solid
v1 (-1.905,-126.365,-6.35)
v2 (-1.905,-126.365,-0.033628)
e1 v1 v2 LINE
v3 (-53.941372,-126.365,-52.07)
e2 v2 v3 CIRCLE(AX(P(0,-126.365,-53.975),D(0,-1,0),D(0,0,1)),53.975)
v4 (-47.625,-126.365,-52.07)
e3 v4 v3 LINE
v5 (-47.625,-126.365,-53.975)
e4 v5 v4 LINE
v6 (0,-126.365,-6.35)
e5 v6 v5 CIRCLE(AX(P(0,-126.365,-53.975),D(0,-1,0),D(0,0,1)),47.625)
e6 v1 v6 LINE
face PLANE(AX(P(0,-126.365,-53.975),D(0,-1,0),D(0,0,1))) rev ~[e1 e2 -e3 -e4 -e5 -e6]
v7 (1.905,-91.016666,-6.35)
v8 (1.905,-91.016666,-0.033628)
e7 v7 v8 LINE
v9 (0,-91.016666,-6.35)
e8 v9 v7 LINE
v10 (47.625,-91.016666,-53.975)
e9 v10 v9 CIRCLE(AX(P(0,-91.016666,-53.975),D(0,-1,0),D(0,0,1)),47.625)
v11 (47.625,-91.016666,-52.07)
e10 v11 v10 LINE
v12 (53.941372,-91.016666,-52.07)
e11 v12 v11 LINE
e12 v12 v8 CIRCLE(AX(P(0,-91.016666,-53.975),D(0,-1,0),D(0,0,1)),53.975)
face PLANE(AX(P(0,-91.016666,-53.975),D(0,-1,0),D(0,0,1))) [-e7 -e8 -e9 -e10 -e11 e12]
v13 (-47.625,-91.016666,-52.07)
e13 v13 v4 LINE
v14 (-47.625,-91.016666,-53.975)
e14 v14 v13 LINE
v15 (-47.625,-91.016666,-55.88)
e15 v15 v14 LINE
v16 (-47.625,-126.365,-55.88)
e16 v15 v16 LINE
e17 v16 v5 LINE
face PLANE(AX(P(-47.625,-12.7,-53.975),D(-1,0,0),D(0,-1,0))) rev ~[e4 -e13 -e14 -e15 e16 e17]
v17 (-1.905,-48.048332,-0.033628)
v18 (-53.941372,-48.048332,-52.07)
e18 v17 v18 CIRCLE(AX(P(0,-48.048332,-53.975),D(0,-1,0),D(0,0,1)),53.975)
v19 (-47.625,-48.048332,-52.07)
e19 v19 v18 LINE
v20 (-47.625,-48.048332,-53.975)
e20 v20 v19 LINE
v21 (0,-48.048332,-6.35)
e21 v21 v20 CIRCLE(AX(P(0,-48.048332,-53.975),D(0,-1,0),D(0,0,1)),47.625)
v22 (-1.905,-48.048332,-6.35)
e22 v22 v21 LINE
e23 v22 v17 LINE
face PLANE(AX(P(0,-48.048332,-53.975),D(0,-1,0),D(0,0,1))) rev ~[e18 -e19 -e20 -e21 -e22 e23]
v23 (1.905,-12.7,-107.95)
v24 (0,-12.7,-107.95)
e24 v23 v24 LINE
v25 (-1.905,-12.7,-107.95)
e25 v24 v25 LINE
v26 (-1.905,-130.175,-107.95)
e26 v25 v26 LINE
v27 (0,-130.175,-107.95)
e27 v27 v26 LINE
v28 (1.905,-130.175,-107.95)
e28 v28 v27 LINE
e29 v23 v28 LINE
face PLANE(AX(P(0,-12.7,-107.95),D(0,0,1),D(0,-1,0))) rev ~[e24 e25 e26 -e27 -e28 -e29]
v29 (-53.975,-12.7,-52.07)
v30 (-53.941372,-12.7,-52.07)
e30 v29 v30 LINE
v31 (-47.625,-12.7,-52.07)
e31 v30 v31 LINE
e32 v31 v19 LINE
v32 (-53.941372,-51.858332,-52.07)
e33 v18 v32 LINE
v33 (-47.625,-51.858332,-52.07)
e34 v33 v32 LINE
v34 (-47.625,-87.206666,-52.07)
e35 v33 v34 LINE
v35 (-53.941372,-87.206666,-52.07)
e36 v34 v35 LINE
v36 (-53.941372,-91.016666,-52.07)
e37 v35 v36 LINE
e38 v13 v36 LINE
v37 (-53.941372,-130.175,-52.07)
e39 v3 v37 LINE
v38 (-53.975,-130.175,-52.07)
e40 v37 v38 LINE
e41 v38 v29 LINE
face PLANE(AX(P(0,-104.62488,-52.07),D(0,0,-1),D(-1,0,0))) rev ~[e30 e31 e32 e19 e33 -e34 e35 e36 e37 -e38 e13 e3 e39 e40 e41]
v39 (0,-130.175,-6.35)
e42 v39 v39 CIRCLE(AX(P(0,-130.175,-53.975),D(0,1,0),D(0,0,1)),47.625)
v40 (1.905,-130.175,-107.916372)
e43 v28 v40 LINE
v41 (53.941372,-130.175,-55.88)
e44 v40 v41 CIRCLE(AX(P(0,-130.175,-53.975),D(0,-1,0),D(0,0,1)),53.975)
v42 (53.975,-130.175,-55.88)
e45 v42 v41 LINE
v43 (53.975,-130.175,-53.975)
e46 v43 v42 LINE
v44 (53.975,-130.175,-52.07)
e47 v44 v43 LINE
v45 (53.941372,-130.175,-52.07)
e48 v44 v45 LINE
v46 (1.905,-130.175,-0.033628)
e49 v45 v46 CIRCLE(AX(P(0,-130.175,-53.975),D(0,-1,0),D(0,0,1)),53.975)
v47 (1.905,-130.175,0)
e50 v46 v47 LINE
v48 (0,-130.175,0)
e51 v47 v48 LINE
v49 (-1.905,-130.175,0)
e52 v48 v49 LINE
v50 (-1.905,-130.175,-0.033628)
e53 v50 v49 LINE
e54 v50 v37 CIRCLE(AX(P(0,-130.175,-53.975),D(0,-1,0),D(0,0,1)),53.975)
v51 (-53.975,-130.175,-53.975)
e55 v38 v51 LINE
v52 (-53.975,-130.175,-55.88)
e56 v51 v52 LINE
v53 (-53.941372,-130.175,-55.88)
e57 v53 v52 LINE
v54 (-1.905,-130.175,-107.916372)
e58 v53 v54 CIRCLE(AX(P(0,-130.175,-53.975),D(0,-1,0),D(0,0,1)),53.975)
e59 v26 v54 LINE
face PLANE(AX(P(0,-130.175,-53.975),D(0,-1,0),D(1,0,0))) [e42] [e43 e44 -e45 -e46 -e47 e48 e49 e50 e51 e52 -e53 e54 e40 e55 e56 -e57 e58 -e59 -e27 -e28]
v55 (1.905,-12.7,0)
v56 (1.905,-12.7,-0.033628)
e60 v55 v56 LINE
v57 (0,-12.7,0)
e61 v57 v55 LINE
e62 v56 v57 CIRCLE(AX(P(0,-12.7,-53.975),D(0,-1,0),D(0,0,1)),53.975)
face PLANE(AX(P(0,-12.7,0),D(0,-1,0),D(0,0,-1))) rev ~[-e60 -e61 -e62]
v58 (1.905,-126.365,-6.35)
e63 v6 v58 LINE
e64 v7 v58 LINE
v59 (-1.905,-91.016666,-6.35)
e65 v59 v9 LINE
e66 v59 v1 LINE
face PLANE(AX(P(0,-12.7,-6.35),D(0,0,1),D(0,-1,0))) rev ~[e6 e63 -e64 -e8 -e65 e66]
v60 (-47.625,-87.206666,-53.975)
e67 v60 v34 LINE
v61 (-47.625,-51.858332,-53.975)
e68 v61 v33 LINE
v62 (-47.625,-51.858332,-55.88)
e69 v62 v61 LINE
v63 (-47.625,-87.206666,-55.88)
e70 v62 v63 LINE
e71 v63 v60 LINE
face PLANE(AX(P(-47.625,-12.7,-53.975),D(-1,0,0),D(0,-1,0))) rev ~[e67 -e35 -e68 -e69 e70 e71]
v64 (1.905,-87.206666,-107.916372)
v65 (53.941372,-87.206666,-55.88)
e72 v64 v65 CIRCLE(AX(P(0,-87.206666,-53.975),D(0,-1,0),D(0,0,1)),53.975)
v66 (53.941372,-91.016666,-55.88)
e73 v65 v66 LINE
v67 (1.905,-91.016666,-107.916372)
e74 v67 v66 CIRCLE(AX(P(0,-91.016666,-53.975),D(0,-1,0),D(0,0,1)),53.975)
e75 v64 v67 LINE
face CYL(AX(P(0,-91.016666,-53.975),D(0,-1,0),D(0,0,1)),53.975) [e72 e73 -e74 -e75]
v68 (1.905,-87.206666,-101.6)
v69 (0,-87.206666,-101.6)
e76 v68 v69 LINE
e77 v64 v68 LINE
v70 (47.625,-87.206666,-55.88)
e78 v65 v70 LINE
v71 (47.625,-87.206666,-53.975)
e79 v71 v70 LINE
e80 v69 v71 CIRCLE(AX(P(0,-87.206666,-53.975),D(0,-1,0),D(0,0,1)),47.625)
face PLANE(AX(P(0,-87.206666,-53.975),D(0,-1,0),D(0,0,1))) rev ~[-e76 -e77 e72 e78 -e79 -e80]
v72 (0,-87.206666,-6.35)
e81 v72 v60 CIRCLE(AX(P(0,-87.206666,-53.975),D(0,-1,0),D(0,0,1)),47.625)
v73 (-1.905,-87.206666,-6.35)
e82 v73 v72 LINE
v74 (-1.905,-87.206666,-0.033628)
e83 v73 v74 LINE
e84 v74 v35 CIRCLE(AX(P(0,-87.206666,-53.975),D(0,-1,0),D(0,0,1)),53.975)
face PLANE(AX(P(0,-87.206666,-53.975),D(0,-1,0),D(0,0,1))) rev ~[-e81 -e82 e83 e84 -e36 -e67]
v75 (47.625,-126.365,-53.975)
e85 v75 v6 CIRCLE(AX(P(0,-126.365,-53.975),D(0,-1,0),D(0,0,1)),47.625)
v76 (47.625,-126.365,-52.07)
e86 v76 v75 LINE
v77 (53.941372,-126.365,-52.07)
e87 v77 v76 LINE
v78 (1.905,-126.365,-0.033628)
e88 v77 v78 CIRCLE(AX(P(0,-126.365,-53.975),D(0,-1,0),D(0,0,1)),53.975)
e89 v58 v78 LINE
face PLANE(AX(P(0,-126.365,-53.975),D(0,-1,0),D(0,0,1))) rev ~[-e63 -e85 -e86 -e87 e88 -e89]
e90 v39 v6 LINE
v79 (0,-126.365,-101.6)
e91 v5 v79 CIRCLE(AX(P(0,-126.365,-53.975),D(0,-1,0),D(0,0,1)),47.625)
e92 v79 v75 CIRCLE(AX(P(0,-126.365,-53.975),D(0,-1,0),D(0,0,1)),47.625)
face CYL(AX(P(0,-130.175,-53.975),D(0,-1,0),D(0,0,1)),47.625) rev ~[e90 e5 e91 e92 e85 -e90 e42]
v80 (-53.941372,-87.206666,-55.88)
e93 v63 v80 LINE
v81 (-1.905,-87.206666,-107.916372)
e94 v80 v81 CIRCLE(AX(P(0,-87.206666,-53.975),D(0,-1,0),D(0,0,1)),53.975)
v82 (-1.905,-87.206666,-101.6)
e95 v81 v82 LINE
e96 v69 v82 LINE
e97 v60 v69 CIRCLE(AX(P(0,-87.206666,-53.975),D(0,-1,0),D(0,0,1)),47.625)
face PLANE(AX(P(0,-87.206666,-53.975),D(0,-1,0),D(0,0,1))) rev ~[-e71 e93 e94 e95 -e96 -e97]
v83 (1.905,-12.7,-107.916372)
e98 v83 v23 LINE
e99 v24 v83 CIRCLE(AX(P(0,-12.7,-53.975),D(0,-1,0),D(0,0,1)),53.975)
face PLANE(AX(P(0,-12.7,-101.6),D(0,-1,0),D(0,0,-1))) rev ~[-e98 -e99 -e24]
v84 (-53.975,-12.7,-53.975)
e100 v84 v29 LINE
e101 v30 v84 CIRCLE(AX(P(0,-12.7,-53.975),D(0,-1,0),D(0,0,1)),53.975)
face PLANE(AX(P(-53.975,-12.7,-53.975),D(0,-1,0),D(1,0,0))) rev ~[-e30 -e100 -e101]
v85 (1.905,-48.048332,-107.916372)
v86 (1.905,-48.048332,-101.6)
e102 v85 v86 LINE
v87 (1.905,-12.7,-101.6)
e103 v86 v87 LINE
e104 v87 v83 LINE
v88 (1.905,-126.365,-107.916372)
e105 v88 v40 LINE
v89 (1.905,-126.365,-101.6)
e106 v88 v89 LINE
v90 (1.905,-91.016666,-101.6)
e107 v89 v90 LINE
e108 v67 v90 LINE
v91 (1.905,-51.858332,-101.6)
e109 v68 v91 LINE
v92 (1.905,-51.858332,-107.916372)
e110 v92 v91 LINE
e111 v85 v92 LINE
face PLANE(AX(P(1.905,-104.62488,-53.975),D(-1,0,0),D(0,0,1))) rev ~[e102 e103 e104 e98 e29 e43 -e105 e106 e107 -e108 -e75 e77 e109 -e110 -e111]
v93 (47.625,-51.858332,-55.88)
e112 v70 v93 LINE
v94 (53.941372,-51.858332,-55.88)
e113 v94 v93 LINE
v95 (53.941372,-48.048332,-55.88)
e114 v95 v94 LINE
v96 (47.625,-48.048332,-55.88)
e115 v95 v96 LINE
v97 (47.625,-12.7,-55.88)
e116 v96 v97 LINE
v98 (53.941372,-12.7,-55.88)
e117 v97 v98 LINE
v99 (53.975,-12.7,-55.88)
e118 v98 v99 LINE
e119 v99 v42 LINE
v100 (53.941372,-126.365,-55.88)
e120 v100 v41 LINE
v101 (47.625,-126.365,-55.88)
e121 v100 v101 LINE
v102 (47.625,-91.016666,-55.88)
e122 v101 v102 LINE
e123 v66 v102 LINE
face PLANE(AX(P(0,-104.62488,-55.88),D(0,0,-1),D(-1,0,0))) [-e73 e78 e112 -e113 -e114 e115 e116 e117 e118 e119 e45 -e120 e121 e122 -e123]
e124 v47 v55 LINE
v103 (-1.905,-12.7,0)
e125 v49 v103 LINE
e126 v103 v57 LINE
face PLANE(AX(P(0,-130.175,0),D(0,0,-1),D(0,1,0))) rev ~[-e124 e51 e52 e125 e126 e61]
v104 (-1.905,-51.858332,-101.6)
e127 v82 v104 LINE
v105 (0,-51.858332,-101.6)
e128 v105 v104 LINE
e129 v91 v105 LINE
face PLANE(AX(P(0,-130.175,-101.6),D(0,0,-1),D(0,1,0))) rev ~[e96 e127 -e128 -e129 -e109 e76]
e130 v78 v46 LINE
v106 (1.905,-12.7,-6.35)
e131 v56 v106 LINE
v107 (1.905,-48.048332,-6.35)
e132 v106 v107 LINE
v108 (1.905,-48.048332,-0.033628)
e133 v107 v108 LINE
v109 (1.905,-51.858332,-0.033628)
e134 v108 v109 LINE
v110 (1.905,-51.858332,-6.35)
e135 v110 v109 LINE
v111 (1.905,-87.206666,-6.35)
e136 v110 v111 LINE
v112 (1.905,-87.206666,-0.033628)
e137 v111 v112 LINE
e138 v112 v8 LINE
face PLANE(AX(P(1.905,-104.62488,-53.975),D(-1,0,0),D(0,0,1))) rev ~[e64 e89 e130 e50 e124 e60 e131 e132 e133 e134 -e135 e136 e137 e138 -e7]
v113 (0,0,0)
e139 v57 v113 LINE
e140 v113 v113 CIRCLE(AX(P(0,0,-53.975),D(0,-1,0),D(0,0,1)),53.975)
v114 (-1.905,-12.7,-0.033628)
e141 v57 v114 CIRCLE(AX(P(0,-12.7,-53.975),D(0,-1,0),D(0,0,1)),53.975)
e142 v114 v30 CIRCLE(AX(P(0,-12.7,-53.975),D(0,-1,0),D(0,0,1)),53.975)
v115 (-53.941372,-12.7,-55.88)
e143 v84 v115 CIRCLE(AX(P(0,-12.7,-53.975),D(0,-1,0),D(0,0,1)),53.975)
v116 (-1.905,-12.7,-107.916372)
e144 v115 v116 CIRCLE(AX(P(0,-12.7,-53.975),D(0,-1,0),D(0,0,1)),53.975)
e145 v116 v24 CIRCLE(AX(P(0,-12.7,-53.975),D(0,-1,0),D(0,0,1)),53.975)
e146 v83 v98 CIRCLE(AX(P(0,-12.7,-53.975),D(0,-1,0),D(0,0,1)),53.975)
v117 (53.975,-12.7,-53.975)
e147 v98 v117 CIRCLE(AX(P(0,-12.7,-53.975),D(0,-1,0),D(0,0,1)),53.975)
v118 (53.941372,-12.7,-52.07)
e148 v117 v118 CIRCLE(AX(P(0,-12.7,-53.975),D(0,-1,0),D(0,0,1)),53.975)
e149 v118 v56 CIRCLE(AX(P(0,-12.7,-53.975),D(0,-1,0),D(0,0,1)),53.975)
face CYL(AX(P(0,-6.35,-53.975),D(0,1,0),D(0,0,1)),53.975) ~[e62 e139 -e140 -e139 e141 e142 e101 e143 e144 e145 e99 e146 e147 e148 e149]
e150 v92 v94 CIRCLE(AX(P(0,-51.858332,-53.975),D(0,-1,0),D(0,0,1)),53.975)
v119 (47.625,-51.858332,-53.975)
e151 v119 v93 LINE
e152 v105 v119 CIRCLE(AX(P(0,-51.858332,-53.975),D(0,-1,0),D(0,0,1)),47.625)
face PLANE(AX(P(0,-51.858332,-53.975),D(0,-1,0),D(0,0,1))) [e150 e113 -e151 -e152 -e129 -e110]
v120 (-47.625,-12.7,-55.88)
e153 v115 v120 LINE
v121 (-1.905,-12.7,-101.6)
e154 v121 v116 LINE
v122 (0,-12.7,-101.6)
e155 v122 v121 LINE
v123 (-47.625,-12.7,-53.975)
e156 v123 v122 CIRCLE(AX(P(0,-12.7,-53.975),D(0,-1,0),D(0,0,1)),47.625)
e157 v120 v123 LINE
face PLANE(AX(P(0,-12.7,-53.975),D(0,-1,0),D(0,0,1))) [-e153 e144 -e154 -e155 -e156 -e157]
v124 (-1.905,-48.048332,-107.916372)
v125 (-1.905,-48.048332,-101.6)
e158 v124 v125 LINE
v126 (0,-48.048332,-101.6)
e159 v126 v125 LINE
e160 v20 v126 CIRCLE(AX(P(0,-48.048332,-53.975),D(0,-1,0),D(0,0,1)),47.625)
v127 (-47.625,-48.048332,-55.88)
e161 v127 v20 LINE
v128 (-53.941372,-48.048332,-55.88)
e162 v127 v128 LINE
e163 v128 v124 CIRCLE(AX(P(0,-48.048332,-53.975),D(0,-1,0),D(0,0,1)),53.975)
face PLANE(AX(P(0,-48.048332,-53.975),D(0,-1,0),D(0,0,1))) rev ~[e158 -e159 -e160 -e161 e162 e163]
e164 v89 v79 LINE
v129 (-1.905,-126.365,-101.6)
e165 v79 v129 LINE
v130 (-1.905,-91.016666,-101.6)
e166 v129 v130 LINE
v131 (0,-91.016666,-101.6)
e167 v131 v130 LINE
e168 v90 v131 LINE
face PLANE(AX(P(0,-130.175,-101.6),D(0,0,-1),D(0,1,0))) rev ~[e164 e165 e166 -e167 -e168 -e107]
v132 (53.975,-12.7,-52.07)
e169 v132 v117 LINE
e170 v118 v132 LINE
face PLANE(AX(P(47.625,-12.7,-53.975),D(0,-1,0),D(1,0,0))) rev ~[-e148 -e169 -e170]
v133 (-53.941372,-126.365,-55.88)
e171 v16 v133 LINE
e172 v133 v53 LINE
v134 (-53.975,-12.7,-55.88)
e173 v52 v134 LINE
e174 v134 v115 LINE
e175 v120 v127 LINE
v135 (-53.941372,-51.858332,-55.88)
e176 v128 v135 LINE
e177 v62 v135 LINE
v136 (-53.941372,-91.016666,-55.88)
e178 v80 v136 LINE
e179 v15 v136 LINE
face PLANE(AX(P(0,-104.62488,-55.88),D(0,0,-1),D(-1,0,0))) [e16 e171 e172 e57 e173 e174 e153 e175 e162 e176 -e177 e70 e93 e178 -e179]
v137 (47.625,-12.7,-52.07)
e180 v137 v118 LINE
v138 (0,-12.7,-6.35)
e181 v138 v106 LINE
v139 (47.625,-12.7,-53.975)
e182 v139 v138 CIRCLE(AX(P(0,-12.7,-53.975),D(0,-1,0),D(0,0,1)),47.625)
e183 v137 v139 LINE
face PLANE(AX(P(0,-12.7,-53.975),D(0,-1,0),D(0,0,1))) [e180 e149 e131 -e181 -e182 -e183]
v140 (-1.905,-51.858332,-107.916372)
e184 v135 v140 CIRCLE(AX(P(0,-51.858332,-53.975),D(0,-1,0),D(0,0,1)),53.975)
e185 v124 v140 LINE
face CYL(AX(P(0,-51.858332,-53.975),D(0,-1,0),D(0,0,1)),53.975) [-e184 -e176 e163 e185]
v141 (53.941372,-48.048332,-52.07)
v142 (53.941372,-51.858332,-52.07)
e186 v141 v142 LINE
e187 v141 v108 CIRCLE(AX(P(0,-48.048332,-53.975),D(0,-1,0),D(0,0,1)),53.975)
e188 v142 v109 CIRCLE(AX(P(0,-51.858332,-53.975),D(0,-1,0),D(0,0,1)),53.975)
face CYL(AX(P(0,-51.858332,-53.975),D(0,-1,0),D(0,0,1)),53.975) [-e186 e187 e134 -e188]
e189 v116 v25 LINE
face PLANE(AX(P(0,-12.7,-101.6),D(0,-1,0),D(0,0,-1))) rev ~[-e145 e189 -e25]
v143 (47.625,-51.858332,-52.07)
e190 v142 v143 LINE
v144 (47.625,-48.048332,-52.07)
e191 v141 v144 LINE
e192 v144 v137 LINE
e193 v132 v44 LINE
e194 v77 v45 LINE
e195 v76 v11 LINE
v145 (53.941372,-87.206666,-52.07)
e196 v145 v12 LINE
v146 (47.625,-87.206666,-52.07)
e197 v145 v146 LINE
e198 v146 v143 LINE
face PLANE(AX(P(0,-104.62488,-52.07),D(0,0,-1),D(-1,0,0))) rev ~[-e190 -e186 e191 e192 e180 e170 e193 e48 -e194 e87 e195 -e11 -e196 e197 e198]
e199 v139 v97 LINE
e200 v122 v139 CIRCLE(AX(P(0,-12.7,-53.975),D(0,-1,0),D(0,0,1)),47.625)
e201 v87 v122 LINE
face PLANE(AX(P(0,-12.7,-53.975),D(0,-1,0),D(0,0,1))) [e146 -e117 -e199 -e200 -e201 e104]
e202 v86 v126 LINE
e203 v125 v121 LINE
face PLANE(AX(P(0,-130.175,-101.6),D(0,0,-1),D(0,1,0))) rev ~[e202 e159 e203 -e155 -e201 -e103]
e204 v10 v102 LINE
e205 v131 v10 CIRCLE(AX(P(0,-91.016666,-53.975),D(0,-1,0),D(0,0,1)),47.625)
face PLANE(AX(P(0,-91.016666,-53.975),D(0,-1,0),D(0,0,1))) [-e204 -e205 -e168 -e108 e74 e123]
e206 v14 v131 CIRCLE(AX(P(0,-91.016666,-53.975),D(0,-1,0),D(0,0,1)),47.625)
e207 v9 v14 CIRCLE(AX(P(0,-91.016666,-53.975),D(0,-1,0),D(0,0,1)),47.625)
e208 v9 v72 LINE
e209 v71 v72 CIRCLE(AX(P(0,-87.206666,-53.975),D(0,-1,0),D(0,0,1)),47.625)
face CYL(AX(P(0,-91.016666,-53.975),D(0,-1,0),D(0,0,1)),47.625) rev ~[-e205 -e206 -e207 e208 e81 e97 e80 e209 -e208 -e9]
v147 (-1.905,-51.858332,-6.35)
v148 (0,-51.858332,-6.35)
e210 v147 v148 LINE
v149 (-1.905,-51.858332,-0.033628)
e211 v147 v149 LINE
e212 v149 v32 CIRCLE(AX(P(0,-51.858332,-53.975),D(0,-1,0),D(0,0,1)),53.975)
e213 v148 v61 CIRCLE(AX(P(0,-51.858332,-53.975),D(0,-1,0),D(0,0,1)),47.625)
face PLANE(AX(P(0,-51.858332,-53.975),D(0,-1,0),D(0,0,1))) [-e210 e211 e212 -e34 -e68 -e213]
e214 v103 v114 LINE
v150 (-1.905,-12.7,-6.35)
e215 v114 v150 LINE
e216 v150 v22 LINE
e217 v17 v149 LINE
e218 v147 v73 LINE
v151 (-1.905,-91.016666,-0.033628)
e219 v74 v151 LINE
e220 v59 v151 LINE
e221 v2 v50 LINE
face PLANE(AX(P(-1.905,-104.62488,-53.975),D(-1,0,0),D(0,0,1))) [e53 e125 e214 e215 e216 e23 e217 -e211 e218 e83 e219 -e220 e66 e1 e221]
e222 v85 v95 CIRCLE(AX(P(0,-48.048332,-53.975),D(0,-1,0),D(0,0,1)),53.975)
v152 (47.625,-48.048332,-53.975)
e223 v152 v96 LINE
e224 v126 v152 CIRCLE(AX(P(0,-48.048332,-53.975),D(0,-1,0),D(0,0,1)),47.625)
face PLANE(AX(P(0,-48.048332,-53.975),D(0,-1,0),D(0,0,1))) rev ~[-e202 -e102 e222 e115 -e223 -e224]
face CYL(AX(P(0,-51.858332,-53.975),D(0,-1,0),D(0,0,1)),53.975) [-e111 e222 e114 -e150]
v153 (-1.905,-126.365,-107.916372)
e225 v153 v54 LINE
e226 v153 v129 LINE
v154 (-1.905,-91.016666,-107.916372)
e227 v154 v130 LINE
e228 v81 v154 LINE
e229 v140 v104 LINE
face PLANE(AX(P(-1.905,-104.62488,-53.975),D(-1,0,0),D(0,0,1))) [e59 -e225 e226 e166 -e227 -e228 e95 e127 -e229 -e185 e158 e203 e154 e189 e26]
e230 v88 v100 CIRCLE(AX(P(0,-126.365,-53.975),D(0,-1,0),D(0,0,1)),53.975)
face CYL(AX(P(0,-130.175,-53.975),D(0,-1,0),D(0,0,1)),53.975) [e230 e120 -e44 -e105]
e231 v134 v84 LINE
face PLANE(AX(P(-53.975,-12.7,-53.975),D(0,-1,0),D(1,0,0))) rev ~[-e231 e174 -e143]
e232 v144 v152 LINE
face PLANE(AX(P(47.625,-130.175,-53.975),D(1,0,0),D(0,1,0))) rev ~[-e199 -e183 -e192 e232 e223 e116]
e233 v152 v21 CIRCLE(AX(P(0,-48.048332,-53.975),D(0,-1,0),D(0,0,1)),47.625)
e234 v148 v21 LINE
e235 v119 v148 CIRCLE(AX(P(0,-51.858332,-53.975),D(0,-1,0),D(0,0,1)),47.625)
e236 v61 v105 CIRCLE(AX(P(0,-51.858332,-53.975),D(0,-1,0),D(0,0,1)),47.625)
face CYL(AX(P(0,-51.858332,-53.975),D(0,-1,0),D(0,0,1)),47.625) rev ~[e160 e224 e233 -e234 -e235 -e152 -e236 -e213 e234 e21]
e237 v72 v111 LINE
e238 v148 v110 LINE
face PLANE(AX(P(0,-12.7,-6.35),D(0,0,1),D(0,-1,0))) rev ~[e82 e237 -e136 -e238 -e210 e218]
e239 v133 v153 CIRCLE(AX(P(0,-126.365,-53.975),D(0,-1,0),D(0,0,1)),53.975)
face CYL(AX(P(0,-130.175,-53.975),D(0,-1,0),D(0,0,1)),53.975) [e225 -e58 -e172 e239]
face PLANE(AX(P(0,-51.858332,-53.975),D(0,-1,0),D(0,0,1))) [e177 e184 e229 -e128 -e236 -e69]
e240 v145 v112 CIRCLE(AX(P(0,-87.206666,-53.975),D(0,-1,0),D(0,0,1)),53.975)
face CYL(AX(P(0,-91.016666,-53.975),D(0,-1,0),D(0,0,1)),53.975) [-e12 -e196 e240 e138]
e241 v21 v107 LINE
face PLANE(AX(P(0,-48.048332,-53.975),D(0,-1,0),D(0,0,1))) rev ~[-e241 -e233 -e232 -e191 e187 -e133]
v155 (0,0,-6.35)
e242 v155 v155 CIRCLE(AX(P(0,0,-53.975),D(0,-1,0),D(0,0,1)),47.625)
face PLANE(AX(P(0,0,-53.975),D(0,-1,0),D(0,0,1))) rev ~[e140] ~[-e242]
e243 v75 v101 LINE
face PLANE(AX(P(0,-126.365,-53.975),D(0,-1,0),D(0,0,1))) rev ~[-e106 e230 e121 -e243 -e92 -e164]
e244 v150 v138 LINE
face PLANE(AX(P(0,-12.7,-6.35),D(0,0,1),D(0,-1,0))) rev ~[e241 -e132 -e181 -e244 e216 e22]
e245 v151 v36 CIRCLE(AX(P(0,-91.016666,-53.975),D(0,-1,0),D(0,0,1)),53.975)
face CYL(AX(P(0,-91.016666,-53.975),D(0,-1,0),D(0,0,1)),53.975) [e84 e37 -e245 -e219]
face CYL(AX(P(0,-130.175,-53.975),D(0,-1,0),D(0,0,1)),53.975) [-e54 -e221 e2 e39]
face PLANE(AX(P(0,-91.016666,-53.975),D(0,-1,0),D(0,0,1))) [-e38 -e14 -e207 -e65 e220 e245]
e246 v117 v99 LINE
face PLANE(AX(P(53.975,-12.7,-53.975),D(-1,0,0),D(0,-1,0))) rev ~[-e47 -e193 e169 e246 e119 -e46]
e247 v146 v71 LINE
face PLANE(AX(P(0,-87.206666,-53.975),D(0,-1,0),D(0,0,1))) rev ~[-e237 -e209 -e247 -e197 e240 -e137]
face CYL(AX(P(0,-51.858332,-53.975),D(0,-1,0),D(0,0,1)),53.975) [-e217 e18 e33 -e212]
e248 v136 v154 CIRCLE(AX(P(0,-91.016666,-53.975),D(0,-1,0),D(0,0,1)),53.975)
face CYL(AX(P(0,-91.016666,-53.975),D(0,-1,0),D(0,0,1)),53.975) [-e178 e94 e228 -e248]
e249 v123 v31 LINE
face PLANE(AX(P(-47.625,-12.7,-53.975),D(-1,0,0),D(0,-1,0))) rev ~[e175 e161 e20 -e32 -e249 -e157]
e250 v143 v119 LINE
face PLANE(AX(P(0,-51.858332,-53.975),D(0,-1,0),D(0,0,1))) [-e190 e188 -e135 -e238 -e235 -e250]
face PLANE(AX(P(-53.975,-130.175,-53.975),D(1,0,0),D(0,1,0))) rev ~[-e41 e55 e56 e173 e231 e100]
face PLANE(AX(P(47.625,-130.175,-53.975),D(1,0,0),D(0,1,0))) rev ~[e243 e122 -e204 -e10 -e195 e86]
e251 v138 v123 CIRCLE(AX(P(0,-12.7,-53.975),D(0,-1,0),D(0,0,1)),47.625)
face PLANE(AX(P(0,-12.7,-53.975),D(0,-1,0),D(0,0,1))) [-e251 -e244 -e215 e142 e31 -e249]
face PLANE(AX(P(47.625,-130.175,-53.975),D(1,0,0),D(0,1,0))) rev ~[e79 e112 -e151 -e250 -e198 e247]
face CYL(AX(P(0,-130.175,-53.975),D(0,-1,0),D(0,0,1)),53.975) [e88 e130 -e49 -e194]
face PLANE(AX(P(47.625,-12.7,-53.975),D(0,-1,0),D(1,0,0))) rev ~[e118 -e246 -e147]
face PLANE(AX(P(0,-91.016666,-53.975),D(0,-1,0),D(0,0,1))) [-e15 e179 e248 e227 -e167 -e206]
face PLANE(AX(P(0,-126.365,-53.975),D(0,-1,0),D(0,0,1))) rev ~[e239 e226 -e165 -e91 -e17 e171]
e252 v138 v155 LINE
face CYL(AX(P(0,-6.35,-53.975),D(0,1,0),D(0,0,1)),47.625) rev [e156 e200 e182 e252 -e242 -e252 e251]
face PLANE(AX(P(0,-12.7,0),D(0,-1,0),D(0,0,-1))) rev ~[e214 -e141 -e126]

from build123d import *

# Parameters (mm, degrees)
SKETCH1_W           = 6.35
SKETCH1_H           = 12.7
BOSS_EXTRUDE1_DEPTH = 1.905
CIRPATTERN1_COUNT   = 2
CIRPATTERN1_ANGLE   = 90
SKETCH2_R           = 53.975
SKETCH2_R_2         = 47.625
BOSS_EXTRUDE2_DEPTH = 3.81
LPATTERN1_COUNT     = 3
LPATTERN1_PITCH     = 39.15833418
SKETCH4_R           = 60.96
CUT_EXTRUDE1_DEPTH  = 66.04


with BuildPart() as part:
    # Sketch1 → Revolve6 (revolve)
    with BuildSketch(Plane(origin=(0, 0, 0), x_dir=(0, 0, -1), z_dir=(1, 0, 0))):
        with Locations((3.175, -6.35)):
            Rectangle(SKETCH1_W, SKETCH1_H)
    revolve(axis=Axis((0, -130.175, -53.975), (0, -1, 0)))

    # Sketch1<6> → Boss-Extrude1 (add, symmetric)
    with BuildSketch(Plane(origin=(0, 0, 0), x_dir=(0, 0, -1), z_dir=(1, 0, 0))):
        with BuildLine():
            Line((6.35, -12.7), (0, -12.7))
            Line((0, -12.7), (0, -130.175))
            ThreePointArc((0, -130.175), (53.975, -184.15), (107.95, -130.175))
            Line((107.95, -130.175), (107.95, -12.7))
            Line((107.95, -12.7), (101.6, -12.7))
            Line((101.6, -12.7), (101.6, -130.175))
            ThreePointArc((101.6, -130.175), (53.975, -177.8), (6.35, -130.175))
            Line((6.35, -130.175), (6.35, -12.7))
        make_face()
    boss_extrude1 = extrude(amount=BOSS_EXTRUDE1_DEPTH, both=True)

    # CirPattern1: Boss-Extrude1 ×2 about axis
    cirpattern1_axis = Axis((0, -130.175, -53.975), (0, -1, 0))
    for i in range(1, CIRPATTERN1_COUNT):
        add(boss_extrude1.rotate(cirpattern1_axis, i * CIRPATTERN1_ANGLE / (CIRPATTERN1_COUNT - 1)))

    # Sketch2 → Boss-Extrude2 (add)
    with BuildSketch(Plane(origin=(0, -130.175, 0), x_dir=(-1, 0, 0), z_dir=(0, -1, 0))):
        with Locations((0, 53.975)):
            Circle(SKETCH2_R)
        with Locations((0, 53.975)):
            Circle(SKETCH2_R_2, mode=Mode.SUBTRACT)
    boss_extrude2 = extrude(amount=-BOSS_EXTRUDE2_DEPTH)

    # LPattern1: Boss-Extrude2 ×3
    with Locations(*[(0, i * LPATTERN1_PITCH, 0) for i in range(1, LPATTERN1_COUNT)]):
        add(boss_extrude2)

    # Sketch4 → Cut-Extrude1 (cut)
    with BuildSketch(Plane.XZ.offset(130.175)):
        with Locations((0, -53.975)):
            Circle(SKETCH4_R)
    extrude(amount=CUT_EXTRUDE1_DEPTH, mode=Mode.SUBTRACT)


solid = part.part
